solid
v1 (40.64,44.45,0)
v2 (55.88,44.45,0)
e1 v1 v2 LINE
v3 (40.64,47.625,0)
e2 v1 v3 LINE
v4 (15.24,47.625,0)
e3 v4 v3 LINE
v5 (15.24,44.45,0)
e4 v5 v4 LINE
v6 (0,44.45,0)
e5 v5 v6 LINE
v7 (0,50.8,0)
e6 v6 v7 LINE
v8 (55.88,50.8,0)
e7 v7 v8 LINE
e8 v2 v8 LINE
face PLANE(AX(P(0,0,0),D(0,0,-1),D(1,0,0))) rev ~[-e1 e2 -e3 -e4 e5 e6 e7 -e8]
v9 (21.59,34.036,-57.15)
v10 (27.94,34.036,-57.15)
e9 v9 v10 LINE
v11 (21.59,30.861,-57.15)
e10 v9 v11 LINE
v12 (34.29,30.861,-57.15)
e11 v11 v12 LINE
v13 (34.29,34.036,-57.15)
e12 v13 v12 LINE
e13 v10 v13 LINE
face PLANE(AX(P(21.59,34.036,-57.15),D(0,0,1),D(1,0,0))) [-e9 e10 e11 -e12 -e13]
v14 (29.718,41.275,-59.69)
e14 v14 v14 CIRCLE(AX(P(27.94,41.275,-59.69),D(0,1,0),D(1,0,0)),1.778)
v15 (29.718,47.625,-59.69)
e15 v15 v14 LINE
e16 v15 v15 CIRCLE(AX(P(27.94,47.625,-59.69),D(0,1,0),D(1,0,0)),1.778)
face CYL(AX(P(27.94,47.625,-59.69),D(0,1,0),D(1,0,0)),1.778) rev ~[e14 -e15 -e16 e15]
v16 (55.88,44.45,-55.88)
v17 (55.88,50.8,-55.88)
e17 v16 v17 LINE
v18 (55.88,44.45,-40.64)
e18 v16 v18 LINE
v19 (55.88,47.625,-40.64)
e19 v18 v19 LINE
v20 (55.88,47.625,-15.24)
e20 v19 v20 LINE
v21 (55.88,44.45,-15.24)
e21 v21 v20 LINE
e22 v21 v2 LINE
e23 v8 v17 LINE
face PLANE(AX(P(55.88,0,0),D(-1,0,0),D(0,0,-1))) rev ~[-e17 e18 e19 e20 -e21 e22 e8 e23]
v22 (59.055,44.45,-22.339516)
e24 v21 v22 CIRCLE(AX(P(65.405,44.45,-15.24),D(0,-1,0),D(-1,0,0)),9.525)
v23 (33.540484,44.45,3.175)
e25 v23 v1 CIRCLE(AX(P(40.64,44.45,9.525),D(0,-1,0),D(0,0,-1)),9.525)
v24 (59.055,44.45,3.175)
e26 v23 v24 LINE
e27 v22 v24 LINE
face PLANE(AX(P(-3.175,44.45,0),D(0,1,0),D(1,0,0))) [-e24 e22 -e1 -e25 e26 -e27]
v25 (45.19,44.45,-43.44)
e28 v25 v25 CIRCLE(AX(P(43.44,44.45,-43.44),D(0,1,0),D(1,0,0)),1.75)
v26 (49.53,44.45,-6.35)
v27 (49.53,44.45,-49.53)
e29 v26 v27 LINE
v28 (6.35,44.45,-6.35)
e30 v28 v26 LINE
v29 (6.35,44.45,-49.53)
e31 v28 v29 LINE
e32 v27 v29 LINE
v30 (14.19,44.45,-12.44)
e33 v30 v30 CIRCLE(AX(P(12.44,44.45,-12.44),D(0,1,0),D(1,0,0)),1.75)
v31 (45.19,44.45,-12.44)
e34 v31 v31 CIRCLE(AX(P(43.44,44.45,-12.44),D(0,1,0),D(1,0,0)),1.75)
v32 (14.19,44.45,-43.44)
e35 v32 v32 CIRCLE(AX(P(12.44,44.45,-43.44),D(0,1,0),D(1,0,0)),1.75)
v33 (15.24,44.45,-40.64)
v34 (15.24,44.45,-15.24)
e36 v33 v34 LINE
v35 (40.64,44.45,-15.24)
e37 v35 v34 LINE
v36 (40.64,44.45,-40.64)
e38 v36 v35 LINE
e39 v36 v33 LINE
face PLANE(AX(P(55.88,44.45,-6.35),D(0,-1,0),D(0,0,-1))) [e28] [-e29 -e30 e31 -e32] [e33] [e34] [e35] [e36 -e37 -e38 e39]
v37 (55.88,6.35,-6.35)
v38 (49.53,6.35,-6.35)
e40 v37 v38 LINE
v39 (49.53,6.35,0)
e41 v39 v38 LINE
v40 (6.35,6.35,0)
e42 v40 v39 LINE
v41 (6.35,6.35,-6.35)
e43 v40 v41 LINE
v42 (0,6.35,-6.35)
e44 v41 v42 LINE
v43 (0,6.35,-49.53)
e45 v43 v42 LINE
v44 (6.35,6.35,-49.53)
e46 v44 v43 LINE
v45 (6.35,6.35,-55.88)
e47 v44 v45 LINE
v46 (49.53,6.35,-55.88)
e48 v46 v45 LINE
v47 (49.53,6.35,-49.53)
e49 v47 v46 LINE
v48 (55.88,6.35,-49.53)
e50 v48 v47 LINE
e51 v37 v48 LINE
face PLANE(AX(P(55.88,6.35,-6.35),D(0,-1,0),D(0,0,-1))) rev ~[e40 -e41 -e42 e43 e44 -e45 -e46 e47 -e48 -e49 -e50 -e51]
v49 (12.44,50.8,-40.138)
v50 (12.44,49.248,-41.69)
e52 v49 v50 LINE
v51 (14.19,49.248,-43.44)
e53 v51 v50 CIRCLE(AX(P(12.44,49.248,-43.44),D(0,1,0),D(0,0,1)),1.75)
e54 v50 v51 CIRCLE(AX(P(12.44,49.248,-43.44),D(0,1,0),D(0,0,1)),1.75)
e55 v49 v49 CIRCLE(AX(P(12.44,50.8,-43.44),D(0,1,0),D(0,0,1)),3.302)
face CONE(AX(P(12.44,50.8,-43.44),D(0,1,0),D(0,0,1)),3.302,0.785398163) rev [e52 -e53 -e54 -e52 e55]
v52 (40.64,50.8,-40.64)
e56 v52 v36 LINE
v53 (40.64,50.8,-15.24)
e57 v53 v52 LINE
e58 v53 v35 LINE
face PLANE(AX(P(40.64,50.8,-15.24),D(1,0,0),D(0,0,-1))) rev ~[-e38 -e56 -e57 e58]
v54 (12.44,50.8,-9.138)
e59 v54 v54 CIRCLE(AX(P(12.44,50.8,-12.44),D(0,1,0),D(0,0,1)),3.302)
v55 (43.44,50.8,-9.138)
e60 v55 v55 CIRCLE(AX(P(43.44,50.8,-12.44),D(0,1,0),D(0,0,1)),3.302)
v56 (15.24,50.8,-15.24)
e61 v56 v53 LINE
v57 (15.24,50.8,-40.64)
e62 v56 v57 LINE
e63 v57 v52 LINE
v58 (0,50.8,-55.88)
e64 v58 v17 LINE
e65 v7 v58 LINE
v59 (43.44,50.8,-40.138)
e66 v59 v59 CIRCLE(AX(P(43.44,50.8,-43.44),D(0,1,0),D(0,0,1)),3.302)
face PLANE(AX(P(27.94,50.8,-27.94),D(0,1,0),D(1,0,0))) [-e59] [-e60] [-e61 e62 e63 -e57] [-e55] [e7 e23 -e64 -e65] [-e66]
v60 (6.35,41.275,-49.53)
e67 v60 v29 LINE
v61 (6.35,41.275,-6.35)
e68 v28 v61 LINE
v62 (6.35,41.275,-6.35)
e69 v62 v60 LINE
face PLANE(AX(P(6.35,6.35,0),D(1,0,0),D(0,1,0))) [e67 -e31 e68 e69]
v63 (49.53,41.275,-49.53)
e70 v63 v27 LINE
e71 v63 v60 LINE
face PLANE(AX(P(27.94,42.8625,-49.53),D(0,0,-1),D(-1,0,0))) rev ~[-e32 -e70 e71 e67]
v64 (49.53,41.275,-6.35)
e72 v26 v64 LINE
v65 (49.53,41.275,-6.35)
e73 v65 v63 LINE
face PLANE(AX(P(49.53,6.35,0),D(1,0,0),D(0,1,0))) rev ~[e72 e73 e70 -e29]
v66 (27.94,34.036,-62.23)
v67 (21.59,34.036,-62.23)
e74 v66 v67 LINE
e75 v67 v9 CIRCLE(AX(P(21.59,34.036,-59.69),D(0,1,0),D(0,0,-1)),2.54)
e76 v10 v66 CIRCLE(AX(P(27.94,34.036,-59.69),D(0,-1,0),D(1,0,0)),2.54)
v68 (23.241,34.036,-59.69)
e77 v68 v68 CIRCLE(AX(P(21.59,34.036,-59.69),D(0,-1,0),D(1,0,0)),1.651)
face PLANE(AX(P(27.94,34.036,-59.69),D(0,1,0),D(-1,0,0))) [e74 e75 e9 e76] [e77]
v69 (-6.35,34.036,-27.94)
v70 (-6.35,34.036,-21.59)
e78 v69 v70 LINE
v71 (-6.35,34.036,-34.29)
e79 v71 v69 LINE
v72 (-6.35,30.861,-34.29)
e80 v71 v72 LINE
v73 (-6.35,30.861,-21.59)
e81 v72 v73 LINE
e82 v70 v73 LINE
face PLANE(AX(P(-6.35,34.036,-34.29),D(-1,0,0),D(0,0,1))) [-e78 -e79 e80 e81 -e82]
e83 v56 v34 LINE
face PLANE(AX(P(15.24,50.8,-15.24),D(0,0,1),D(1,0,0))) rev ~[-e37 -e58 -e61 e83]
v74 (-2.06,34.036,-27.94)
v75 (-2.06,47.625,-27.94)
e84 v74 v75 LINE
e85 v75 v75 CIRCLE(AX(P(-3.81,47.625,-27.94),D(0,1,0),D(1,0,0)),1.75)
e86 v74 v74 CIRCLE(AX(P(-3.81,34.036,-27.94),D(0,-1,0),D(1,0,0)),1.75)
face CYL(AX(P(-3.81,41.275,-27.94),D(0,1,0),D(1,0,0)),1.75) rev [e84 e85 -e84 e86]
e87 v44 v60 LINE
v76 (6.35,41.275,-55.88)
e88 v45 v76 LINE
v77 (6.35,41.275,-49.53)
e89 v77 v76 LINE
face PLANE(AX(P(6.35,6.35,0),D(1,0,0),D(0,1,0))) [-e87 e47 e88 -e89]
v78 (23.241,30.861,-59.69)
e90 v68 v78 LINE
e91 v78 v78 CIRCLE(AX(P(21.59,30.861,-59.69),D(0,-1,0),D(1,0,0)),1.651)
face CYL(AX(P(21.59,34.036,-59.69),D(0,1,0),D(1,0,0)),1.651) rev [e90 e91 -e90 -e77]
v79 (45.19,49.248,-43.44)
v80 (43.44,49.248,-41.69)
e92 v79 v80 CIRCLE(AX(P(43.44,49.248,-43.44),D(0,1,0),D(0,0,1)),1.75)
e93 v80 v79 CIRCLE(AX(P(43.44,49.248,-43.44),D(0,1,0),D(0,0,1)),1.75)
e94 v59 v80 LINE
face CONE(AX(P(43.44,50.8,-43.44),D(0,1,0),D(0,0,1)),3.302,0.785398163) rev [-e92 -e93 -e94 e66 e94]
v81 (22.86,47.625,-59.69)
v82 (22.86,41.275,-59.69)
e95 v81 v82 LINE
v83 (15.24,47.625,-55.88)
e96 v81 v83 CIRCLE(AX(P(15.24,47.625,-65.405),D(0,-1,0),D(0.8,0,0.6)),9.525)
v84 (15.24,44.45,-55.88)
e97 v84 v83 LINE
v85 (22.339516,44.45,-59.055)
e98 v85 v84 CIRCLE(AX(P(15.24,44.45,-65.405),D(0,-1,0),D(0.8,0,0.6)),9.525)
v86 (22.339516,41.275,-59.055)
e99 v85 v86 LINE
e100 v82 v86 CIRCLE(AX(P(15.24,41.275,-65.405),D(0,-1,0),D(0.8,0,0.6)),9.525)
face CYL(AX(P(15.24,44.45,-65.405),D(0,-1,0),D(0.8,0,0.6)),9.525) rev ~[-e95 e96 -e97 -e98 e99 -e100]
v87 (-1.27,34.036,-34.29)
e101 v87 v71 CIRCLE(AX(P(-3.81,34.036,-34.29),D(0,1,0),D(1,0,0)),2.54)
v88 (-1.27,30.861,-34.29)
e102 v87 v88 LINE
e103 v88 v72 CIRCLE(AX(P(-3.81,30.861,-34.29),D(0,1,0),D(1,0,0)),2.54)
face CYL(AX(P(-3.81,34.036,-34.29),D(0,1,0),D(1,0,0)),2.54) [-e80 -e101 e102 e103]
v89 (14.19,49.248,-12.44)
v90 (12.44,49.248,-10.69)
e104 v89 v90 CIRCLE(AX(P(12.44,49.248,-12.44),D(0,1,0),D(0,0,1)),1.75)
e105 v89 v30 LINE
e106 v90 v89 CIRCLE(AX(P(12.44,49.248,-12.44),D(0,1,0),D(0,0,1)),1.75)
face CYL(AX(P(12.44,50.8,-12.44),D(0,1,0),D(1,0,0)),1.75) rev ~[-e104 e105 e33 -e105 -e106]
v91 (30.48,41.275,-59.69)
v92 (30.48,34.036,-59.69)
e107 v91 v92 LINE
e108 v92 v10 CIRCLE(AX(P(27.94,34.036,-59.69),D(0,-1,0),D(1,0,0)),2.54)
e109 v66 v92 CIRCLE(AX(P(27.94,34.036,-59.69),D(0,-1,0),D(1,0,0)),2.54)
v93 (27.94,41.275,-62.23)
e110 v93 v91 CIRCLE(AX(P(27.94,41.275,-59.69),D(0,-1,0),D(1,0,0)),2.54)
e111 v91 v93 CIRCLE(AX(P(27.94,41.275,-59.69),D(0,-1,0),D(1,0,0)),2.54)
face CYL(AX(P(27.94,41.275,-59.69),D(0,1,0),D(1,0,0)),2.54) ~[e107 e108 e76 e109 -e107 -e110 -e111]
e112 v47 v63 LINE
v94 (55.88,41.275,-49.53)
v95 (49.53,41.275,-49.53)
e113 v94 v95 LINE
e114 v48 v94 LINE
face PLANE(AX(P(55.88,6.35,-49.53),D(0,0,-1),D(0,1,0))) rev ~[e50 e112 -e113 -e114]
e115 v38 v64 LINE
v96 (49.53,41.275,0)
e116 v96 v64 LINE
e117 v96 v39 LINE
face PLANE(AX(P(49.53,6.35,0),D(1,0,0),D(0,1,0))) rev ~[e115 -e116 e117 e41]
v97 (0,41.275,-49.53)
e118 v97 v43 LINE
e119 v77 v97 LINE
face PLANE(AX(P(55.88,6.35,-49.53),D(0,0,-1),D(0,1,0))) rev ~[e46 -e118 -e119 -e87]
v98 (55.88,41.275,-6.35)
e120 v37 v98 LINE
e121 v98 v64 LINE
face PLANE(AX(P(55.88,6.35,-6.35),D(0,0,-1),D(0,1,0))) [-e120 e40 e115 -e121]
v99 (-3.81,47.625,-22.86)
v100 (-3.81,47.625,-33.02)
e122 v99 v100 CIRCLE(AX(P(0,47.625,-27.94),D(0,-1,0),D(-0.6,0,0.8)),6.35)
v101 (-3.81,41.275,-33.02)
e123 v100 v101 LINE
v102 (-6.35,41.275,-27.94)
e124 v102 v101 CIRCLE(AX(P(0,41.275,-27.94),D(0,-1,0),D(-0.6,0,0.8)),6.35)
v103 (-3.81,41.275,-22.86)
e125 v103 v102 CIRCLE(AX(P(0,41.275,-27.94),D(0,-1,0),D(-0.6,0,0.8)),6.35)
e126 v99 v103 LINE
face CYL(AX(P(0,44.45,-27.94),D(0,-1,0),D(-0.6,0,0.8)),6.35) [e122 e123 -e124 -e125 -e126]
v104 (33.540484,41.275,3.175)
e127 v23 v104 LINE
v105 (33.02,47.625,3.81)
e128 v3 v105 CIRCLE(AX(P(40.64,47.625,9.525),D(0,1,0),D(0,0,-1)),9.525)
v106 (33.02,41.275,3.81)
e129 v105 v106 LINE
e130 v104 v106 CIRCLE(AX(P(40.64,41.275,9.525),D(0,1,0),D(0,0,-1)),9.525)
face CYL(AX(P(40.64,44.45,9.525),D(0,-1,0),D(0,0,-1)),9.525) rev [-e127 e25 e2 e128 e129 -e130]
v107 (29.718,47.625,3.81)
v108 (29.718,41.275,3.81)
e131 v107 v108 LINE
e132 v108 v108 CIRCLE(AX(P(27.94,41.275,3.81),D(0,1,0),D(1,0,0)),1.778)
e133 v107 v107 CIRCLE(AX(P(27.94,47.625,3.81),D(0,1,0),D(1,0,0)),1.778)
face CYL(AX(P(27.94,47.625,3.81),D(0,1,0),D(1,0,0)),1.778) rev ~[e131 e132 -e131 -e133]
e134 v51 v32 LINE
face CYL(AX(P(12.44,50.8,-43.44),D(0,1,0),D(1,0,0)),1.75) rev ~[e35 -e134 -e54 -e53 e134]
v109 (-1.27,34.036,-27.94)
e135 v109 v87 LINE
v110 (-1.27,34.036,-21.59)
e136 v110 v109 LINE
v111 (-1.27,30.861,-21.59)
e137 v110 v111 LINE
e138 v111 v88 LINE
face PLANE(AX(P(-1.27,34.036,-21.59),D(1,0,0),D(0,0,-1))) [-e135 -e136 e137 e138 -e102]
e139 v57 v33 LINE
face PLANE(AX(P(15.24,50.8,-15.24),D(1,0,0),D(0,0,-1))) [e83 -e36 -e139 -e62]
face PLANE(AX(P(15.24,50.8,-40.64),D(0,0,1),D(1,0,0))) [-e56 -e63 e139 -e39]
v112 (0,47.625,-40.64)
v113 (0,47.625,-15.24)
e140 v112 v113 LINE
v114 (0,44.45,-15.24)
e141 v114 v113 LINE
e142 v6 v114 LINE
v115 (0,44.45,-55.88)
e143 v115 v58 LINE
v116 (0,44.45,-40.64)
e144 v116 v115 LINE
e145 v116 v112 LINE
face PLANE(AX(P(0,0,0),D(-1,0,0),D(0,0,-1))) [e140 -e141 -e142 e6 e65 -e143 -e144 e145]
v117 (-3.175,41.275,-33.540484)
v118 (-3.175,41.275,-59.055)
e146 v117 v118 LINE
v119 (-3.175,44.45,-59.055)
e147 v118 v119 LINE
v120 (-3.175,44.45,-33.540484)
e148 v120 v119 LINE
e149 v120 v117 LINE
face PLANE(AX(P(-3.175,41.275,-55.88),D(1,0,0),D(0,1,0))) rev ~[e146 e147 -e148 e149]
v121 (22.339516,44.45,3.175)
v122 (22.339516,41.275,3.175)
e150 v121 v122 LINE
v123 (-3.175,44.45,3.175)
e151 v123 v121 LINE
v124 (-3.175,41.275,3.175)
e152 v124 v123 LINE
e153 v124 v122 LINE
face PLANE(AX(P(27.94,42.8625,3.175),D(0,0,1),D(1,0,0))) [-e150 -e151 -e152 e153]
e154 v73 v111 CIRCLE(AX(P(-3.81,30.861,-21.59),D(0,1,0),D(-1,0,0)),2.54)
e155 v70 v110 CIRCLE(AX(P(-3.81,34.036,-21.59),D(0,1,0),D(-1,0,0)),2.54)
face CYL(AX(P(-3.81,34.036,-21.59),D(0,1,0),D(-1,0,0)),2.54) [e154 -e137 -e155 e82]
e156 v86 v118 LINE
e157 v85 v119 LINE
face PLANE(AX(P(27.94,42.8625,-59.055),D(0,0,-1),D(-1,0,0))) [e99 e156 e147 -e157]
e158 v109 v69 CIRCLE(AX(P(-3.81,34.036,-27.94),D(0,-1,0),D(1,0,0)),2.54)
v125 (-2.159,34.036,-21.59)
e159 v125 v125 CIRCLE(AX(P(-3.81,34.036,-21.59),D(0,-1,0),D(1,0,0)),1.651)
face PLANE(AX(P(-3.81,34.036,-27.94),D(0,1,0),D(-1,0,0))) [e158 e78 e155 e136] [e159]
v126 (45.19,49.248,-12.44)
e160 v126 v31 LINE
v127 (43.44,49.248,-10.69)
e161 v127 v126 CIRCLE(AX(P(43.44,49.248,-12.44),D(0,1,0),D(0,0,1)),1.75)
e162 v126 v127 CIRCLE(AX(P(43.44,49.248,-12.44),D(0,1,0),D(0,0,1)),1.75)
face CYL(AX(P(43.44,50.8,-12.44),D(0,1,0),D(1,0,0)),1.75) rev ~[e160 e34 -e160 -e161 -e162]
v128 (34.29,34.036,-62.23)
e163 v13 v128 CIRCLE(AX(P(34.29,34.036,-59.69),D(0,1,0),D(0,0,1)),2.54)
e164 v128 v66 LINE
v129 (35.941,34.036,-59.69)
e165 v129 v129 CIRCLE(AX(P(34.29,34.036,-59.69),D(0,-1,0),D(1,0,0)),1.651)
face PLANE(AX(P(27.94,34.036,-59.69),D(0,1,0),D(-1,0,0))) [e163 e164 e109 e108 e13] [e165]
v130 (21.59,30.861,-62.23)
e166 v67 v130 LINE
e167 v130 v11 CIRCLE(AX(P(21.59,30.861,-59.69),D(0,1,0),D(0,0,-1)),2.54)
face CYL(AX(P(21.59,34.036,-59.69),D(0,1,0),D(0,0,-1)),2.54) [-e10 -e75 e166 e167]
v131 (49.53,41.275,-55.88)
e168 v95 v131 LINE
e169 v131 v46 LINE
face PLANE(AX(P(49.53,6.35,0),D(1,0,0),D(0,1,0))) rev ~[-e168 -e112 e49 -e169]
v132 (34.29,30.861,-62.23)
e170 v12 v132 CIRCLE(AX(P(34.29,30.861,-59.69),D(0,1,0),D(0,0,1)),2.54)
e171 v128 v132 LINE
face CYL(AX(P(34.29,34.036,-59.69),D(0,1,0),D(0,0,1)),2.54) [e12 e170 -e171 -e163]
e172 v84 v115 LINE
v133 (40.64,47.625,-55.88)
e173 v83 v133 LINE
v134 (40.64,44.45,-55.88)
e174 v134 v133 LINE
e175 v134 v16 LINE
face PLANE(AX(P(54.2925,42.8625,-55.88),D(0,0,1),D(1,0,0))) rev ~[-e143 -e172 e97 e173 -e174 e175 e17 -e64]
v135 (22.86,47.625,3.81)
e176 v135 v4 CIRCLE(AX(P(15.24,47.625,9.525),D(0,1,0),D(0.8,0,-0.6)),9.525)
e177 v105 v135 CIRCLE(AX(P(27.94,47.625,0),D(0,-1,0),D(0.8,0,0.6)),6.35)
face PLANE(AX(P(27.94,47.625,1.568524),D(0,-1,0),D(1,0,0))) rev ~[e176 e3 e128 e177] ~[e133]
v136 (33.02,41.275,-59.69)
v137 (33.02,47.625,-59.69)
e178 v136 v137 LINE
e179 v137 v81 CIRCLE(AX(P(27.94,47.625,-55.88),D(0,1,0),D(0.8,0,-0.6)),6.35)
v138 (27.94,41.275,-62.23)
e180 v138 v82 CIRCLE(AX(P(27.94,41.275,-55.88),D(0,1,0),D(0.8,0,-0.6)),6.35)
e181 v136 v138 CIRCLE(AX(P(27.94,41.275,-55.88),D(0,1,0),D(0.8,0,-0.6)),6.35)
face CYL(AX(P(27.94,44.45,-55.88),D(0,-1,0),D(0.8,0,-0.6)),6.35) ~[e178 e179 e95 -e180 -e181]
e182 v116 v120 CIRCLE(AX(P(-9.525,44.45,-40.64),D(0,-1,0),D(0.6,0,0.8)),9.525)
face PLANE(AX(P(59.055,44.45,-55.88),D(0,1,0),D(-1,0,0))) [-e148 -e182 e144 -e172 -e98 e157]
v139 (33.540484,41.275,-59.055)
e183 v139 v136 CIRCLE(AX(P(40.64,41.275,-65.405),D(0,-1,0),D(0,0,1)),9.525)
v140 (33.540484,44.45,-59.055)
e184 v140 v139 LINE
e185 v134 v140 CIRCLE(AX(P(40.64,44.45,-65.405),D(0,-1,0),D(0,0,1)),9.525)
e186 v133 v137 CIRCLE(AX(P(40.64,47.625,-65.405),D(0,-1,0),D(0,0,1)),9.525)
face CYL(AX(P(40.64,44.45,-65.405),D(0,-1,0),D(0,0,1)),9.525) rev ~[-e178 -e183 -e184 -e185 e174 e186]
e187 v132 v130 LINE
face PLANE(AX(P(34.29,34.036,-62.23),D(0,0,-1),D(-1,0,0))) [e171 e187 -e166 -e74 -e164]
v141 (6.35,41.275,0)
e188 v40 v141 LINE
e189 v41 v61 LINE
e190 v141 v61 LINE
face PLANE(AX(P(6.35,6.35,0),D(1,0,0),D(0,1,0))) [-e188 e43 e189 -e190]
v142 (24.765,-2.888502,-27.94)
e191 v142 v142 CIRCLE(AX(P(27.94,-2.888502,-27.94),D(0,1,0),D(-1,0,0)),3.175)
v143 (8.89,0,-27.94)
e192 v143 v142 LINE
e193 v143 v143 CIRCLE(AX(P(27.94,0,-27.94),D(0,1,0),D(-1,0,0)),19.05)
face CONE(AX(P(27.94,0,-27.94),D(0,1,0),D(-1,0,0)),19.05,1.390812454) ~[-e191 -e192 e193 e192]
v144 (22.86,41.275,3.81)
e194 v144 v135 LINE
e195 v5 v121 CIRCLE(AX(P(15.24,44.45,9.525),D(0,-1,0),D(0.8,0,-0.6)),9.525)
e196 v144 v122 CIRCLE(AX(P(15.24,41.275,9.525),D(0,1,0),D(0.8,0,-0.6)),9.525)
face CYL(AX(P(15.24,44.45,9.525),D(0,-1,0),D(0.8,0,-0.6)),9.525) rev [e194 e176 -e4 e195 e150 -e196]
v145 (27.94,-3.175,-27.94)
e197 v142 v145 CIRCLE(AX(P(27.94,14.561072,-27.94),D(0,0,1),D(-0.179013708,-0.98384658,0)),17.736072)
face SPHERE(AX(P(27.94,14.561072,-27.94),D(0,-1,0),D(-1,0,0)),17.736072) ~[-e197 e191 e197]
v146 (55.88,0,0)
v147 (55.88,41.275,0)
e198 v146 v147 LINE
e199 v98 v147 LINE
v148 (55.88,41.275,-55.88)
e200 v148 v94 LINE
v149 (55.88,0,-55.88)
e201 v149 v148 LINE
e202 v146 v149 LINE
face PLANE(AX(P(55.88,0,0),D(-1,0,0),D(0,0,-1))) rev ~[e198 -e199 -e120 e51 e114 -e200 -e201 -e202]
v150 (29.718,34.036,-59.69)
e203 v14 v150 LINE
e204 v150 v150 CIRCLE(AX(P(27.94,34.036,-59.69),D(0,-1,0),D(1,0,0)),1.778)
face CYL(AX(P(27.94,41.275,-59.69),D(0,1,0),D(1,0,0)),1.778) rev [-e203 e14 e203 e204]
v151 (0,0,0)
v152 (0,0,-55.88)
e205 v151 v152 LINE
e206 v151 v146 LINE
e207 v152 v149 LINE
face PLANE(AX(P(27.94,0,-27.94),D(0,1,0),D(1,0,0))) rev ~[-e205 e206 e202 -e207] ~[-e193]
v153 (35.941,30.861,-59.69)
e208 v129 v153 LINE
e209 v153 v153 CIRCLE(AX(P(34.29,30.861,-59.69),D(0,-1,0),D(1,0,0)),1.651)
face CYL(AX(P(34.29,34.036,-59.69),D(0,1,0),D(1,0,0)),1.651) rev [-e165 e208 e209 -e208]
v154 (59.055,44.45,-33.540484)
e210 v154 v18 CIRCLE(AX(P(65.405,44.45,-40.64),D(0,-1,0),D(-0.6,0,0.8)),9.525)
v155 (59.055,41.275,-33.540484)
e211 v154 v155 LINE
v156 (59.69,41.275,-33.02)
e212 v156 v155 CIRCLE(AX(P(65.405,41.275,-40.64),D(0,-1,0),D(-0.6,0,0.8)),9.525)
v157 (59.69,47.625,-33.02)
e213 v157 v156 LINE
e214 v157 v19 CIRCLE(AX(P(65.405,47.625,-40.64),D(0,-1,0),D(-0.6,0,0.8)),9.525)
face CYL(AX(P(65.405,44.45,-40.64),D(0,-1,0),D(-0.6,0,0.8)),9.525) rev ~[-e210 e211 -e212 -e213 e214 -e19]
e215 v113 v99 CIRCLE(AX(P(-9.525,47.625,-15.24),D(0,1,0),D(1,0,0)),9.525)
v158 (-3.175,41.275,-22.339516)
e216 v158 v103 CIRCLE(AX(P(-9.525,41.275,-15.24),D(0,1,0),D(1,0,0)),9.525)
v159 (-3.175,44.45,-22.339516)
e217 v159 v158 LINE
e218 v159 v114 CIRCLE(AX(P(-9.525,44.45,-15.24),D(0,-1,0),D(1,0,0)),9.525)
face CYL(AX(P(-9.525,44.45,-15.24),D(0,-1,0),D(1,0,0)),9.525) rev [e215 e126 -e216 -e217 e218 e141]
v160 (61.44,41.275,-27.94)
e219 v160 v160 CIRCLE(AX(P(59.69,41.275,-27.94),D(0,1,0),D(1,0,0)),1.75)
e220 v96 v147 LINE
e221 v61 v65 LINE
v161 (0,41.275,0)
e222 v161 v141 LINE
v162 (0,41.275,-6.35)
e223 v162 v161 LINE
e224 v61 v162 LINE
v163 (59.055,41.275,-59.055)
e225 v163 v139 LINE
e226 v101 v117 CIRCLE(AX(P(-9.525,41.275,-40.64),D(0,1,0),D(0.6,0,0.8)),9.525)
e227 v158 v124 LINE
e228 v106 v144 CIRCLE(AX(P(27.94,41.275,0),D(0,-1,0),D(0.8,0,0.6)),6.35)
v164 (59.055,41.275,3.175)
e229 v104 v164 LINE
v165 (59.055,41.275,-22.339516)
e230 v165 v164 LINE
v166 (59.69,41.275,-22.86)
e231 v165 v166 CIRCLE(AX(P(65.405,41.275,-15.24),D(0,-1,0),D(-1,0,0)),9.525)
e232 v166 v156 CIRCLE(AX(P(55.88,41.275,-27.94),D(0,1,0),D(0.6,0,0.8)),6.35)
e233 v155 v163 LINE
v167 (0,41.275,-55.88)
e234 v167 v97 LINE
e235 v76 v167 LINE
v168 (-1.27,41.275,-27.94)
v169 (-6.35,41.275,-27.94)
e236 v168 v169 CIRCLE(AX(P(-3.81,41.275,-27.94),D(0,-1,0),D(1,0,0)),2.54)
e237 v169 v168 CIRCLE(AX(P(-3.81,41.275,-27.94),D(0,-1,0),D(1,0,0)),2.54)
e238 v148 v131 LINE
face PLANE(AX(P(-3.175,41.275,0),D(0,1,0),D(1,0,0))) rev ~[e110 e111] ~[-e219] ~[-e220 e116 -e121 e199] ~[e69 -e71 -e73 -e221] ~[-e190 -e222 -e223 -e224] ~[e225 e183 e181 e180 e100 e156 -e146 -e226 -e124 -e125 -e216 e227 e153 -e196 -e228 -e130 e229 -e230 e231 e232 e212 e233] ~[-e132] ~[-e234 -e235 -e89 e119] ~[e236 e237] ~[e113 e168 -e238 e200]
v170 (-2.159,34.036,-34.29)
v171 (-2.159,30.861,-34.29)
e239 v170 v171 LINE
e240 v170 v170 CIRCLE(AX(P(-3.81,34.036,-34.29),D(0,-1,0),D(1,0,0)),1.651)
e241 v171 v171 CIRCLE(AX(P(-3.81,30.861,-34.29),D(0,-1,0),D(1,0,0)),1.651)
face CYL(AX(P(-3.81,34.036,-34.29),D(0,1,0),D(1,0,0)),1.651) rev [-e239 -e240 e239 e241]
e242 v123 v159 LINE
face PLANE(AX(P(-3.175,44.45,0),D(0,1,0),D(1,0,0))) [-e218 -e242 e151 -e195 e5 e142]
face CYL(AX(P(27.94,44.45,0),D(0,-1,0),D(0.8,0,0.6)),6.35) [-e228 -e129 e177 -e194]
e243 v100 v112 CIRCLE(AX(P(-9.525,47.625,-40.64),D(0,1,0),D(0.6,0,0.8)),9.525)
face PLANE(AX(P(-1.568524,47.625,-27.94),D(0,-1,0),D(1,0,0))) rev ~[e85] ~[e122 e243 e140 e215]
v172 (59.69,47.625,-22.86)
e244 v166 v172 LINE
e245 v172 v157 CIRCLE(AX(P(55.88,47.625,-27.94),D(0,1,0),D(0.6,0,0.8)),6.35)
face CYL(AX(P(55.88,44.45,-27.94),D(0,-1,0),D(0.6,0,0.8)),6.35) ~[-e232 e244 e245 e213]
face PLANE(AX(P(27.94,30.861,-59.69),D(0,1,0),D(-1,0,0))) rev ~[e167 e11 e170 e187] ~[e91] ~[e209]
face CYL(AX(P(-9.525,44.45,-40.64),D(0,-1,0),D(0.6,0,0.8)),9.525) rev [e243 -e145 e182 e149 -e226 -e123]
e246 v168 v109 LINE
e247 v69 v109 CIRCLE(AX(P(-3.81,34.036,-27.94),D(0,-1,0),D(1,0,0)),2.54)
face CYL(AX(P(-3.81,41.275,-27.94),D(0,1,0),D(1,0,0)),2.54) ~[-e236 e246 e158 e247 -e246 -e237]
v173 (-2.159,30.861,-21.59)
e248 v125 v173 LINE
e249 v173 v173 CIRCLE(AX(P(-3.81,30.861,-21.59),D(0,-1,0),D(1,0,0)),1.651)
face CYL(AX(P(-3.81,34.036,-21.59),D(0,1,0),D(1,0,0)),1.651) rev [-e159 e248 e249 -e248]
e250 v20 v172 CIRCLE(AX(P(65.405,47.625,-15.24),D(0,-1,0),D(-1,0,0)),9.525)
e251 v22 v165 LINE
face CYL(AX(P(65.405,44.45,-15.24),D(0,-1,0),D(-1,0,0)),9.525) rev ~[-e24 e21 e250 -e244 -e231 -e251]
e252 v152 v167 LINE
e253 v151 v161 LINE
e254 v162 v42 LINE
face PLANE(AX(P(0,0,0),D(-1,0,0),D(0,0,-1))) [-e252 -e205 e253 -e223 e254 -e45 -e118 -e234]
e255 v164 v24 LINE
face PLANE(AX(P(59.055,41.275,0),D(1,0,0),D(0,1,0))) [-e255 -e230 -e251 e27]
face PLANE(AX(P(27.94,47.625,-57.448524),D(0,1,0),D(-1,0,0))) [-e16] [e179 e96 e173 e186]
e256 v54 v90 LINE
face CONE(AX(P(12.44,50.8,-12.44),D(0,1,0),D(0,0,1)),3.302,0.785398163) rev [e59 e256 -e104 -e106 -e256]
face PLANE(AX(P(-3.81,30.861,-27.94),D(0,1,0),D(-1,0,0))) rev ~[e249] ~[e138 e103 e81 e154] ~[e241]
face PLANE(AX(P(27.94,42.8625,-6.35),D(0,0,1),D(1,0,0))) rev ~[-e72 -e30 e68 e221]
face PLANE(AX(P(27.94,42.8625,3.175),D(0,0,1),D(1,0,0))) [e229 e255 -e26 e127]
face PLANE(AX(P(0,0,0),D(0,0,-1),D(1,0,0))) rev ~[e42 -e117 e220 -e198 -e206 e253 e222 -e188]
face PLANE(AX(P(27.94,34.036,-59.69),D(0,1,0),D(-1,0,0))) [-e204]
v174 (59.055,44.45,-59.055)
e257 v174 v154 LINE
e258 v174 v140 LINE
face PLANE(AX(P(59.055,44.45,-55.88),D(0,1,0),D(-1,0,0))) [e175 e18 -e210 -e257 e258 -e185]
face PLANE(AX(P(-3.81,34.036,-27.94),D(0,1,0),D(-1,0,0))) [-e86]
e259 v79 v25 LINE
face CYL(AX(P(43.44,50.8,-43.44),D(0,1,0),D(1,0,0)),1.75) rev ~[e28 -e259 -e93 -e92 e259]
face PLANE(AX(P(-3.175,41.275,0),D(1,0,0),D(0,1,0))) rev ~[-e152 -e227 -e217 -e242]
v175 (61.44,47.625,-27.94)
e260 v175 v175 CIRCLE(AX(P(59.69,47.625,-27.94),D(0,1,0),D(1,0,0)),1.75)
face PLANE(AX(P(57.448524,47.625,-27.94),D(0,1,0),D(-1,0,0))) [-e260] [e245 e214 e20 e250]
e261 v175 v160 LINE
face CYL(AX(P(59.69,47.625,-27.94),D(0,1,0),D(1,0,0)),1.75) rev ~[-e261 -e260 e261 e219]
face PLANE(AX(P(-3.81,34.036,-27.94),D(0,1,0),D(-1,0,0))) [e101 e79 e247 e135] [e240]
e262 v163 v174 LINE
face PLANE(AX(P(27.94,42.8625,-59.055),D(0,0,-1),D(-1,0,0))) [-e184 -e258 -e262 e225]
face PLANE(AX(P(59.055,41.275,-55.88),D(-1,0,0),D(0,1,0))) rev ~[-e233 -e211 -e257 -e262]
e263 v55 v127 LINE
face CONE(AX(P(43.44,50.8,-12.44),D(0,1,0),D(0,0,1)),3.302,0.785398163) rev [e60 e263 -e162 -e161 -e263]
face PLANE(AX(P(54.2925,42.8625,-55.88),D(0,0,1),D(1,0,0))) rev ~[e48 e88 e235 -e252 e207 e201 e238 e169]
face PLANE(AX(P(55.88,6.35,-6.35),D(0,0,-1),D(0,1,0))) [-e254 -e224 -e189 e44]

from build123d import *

# Parameters (mm, degrees)
SKETCH1_W                = 55.88
SKETCH1_H                = 55.88
BOSS_EXTRUDE1_DEPTH      = 50.8
SKETCH2_W                = 43.18
SKETCH2_H                = 38.1
CUT_EXTRUDE1_DEPTH       = 56.88
SKETCH3_W                = 43.18
SKETCH3_H                = 38.1
CUT_EXTRUDE2_DEPTH       = 56.88
SKETCH4_R                = 1.75
SKETCH4_W                = 25.4
SKETCH4_H                = 25.4
CUT_EXTRUDE3_DEPTH       = 44.45
BOSS_EXTRUDE2_DEPTH      = 3.175
BOSS_EXTRUDE2_DEPTH_BACK = 3.175
SKETCH10_W               = 9.525
SKETCH10_H               = 3.175
BOSS_EXTRUDE5_DEPTH      = 55.88
SKETCH12_W               = 62.23
SKETCH12_H               = 3.175
BOSS_EXTRUDE6_DEPTH      = 3.175
BOSS_EXTRUDE6_DEPTH_BACK = 6.35
SKETCH13_W               = 62.23
SKETCH13_H               = 3.175
BOSS_EXTRUDE7_DEPTH      = 3.175
BOSS_EXTRUDE7_DEPTH_BACK = 6.35
SKETCH11_R               = 1.75
SKETCH11_R_2             = 1.778
CUT_EXTRUDE4_DEPTH       = 48.625
SKETCH15_R               = 2.54
SKETCH15_R_2             = 1.75
SKETCH15_R_3             = 1.778
BOSS_EXTRUDE8_DEPTH      = 7.239
SKETCH16_R               = 1.651
BOSS_EXTRUDE9_DEPTH      = 3.175


with BuildPart() as part:
    # Sketch1 → Boss-Extrude1 (new body)
    with BuildSketch(Plane(origin=(0, 0, 0), x_dir=(1, 0, 0), z_dir=(0, 1, 0))):
        with Locations((27.94, 27.94)):
            Rectangle(SKETCH1_W, SKETCH1_H)
    extrude(amount=BOSS_EXTRUDE1_DEPTH)

    # Sketch2 → Cut-Extrude1 (cut, through all)
    with BuildSketch(Plane.XY):
        with Locations((27.94, 25.4)):
            Rectangle(SKETCH2_W, SKETCH2_H)
    extrude(amount=-CUT_EXTRUDE1_DEPTH, mode=Mode.SUBTRACT)

    # Sketch3 → Cut-Extrude2 (cut, through all)
    with BuildSketch(Plane(origin=(55.88, 0, 0), x_dir=(0, 0, -1), z_dir=(1, 0, 0))):
        with Locations((27.94, 25.4)):
            Rectangle(SKETCH3_W, SKETCH3_H)
    extrude(amount=-CUT_EXTRUDE2_DEPTH, mode=Mode.SUBTRACT)

    # Sketch4 → Cut-Extrude3 (cut)
    with BuildSketch(Plane(origin=(0, 50.8, 0), x_dir=(1, 0, 0), z_dir=(0, 1, 0))):
        with Locations((43.44, 43.44)):
            Circle(SKETCH4_R)
        with Locations((43.44, 12.44)):
            Circle(SKETCH4_R)
        with Locations((12.44, 12.44)):
            Circle(SKETCH4_R)
        with Locations((12.44, 43.44)):
            Circle(SKETCH4_R)
        with Locations((27.94, 27.94)):
            Rectangle(SKETCH4_W, SKETCH4_H)
    extrude(amount=-CUT_EXTRUDE3_DEPTH, mode=Mode.SUBTRACT)

    # Sketch5 → Cut-Revolve1 (revolve, cut)
    with BuildSketch(Plane(origin=(12.44, 0, 0), x_dir=(0, 0, -1), z_dir=(1, 0, 0))):
        Polygon((43.44, 50.8), (40.138, 50.8), (43.44, 47.498), align=None)
    revolve(axis=Axis((12.44, 47.498, -43.44), (0, 1, 0)), mode=Mode.SUBTRACT)

    # Sketch6 → Cut-Revolve2 (revolve, cut)
    with BuildSketch(Plane(origin=(12.44, 0, 0), x_dir=(0, 0, -1), z_dir=(1, 0, 0))):
        Polygon((12.44, 50.8), (9.138, 50.8), (12.44, 47.498), align=None)
    revolve(axis=Axis((12.44, 47.498, -12.44), (0, 1, 0)), mode=Mode.SUBTRACT)

    # Sketch7 → Cut-Revolve3 (revolve, cut)
    with BuildSketch(Plane(origin=(43.44, 0, 0), x_dir=(0, 0, -1), z_dir=(1, 0, 0))):
        Polygon((43.44, 50.8), (40.138, 50.8), (43.44, 47.498), align=None)
    revolve(axis=Axis((43.44, 47.498, -43.44), (0, 1, 0)), mode=Mode.SUBTRACT)

    # Sketch8 → Cut-Revolve4 (revolve, cut)
    with BuildSketch(Plane(origin=(43.44, 0, 0), x_dir=(0, 0, -1), z_dir=(1, 0, 0))):
        Polygon((12.44, 50.8), (9.138, 50.8), (12.44, 47.498), align=None)
    revolve(axis=Axis((43.44, 47.498, -12.44), (0, 1, 0)), mode=Mode.SUBTRACT)

    # Sketch9 → Boss-Extrude2 (add, two sides)
    with BuildSketch(Plane.XZ.offset(-44.45)) as boss_extrude2_sk:
        with BuildLine():
            Line((0, -40.64), (0, -15.24))
            ThreePointArc((0, -15.24), (-1.005581006, -19.499709497), (-3.81, -22.86))
            ThreePointArc((-3.81, -22.86), (-6.35, -27.94), (-3.81, -33.02))
            ThreePointArc((-3.81, -33.02), (-1.005581006, -36.380290503), (0, -40.64))
        make_face()
        with BuildLine():
            Line((55.88, -40.64), (55.88, -15.24))
            ThreePointArc((55.88, -15.24), (56.885581006, -19.499709497), (59.69, -22.86))
            ThreePointArc((59.69, -22.86), (62.23, -27.94), (59.69, -33.02))
            ThreePointArc((59.69, -33.02), (56.885581006, -36.380290503), (55.88, -40.64))
        make_face()
        with BuildLine():
            Line((15.24, 0), (40.64, 0))
            ThreePointArc((40.64, 0), (36.380290503, 1.005581006), (33.02, 3.81))
            ThreePointArc((33.02, 3.81), (27.94, 6.35), (22.86, 3.81))
            ThreePointArc((22.86, 3.81), (19.499709497, 1.005581006), (15.24, 0))
        make_face()
        with BuildLine():
            Line((15.24, -55.88), (40.64, -55.88))
            ThreePointArc((40.64, -55.88), (36.380290503, -56.885581006), (33.02, -59.69))
            ThreePointArc((33.02, -59.69), (27.94, -62.23), (22.86, -59.69))
            ThreePointArc((22.86, -59.69), (19.499709497, -56.885581006), (15.24, -55.88))
        make_face()
    extrude(amount=BOSS_EXTRUDE2_DEPTH)
    extrude(boss_extrude2_sk.sketch, amount=-BOSS_EXTRUDE2_DEPTH_BACK)

    # Sketch10 → Boss-Extrude5 (add)
    with BuildSketch(Plane.XY):
        with Locations((54.2925, 42.8625)):
            Rectangle(SKETCH10_W, SKETCH10_H)
        with Locations((1.5875, 42.8625)):
            Rectangle(SKETCH10_W, SKETCH10_H)
    extrude(amount=-BOSS_EXTRUDE5_DEPTH)

    # Sketch12 → Boss-Extrude6 (add, two sides)
    with BuildSketch(Plane(origin=(0, 0, -55.88), x_dir=(-1, 0, 0), z_dir=(0, 0, -1))) as boss_extrude6_sk:
        with Locations((-27.94, 42.8625)):
            Rectangle(SKETCH12_W, SKETCH12_H)
    extrude(amount=BOSS_EXTRUDE6_DEPTH)
    extrude(boss_extrude6_sk.sketch, amount=-BOSS_EXTRUDE6_DEPTH_BACK)

    # Sketch13 → Boss-Extrude7 (add, two sides)
    with BuildSketch(Plane.XY) as boss_extrude7_sk:
        with Locations((27.94, 42.8625)):
            Rectangle(SKETCH13_W, SKETCH13_H)
    extrude(amount=BOSS_EXTRUDE7_DEPTH)
    extrude(boss_extrude7_sk.sketch, amount=-BOSS_EXTRUDE7_DEPTH_BACK)

    # Sketch11 → Cut-Extrude4 (cut, through all)
    with BuildSketch(Plane(origin=(0, 47.625, 0), x_dir=(1, 0, 0), z_dir=(0, 1, 0))):
        with Locations((-3.81, 27.94)):
            Circle(SKETCH11_R)
        with Locations((59.69, 27.94)):
            Circle(SKETCH11_R)
        with Locations((27.94, -3.81)):
            Circle(SKETCH11_R_2)
        with Locations((27.94, 59.69)):
            Circle(SKETCH11_R_2)
    extrude(amount=-CUT_EXTRUDE4_DEPTH, mode=Mode.SUBTRACT)

    # Sketch14 → Revolve1 (revolve)
    with BuildSketch(Plane(origin=(0, 0, -27.94), x_dir=(-1, 0, 0), z_dir=(0, 0, -1))):
        with BuildLine():
            Line((-8.89, 0), (-24.765, -2.888501777))
            ThreePointArc((-24.765, -2.888501777), (-26.346050014, -3.103230235), (-27.94, -3.175))
            Line((-27.94, -3.175), (-27.94, 0))
            Line((-27.94, 0), (-8.89, 0))
        make_face()
    revolve(axis=Axis((27.94, -3.175, -27.94), (0, 1, 0)))

    # Sketch15 → Boss-Extrude8 (add)
    with BuildSketch(Plane.XZ.offset(-41.275)):
        with Locations((-3.81, -27.94)):
            Circle(SKETCH15_R)
        with Locations((-3.81, -27.94)):
            Circle(SKETCH15_R_2, mode=Mode.SUBTRACT)
        with Locations((27.94, -59.69)):
            Circle(SKETCH15_R)
        with Locations((27.94, -59.69)):
            Circle(SKETCH15_R_3, mode=Mode.SUBTRACT)
    extrude(amount=BOSS_EXTRUDE8_DEPTH)

    # Sketch16 → Boss-Extrude9 (add)
    with BuildSketch(Plane.XZ.offset(-34.036)):
        with BuildLine():
            Line((34.29, -62.23), (21.59, -62.23))
            ThreePointArc((21.59, -62.23), (19.05, -59.69), (21.59, -57.15))
            Line((21.59, -57.15), (34.29, -57.15))
            ThreePointArc((34.29, -57.15), (36.83, -59.69), (34.29, -62.23))
        make_face()
        with Locations((34.29, -59.69)):
            Circle(SKETCH16_R, mode=Mode.SUBTRACT)
        with Locations((21.59, -59.69)):
            Circle(SKETCH16_R, mode=Mode.SUBTRACT)
        with BuildLine():
            Line((-6.35, -34.29), (-6.35, -21.59))
            ThreePointArc((-6.35, -21.59), (-3.81, -19.05), (-1.27, -21.59))
            Line((-1.27, -21.59), (-1.27, -34.29))
            ThreePointArc((-1.27, -34.29), (-3.81, -36.83), (-6.35, -34.29))
        make_face()
        with Locations((-3.81, -34.29)):
            Circle(SKETCH16_R, mode=Mode.SUBTRACT)
        with Locations((-3.81, -21.59)):
            Circle(SKETCH16_R, mode=Mode.SUBTRACT)
    extrude(amount=BOSS_EXTRUDE9_DEPTH)


solid = part.part
